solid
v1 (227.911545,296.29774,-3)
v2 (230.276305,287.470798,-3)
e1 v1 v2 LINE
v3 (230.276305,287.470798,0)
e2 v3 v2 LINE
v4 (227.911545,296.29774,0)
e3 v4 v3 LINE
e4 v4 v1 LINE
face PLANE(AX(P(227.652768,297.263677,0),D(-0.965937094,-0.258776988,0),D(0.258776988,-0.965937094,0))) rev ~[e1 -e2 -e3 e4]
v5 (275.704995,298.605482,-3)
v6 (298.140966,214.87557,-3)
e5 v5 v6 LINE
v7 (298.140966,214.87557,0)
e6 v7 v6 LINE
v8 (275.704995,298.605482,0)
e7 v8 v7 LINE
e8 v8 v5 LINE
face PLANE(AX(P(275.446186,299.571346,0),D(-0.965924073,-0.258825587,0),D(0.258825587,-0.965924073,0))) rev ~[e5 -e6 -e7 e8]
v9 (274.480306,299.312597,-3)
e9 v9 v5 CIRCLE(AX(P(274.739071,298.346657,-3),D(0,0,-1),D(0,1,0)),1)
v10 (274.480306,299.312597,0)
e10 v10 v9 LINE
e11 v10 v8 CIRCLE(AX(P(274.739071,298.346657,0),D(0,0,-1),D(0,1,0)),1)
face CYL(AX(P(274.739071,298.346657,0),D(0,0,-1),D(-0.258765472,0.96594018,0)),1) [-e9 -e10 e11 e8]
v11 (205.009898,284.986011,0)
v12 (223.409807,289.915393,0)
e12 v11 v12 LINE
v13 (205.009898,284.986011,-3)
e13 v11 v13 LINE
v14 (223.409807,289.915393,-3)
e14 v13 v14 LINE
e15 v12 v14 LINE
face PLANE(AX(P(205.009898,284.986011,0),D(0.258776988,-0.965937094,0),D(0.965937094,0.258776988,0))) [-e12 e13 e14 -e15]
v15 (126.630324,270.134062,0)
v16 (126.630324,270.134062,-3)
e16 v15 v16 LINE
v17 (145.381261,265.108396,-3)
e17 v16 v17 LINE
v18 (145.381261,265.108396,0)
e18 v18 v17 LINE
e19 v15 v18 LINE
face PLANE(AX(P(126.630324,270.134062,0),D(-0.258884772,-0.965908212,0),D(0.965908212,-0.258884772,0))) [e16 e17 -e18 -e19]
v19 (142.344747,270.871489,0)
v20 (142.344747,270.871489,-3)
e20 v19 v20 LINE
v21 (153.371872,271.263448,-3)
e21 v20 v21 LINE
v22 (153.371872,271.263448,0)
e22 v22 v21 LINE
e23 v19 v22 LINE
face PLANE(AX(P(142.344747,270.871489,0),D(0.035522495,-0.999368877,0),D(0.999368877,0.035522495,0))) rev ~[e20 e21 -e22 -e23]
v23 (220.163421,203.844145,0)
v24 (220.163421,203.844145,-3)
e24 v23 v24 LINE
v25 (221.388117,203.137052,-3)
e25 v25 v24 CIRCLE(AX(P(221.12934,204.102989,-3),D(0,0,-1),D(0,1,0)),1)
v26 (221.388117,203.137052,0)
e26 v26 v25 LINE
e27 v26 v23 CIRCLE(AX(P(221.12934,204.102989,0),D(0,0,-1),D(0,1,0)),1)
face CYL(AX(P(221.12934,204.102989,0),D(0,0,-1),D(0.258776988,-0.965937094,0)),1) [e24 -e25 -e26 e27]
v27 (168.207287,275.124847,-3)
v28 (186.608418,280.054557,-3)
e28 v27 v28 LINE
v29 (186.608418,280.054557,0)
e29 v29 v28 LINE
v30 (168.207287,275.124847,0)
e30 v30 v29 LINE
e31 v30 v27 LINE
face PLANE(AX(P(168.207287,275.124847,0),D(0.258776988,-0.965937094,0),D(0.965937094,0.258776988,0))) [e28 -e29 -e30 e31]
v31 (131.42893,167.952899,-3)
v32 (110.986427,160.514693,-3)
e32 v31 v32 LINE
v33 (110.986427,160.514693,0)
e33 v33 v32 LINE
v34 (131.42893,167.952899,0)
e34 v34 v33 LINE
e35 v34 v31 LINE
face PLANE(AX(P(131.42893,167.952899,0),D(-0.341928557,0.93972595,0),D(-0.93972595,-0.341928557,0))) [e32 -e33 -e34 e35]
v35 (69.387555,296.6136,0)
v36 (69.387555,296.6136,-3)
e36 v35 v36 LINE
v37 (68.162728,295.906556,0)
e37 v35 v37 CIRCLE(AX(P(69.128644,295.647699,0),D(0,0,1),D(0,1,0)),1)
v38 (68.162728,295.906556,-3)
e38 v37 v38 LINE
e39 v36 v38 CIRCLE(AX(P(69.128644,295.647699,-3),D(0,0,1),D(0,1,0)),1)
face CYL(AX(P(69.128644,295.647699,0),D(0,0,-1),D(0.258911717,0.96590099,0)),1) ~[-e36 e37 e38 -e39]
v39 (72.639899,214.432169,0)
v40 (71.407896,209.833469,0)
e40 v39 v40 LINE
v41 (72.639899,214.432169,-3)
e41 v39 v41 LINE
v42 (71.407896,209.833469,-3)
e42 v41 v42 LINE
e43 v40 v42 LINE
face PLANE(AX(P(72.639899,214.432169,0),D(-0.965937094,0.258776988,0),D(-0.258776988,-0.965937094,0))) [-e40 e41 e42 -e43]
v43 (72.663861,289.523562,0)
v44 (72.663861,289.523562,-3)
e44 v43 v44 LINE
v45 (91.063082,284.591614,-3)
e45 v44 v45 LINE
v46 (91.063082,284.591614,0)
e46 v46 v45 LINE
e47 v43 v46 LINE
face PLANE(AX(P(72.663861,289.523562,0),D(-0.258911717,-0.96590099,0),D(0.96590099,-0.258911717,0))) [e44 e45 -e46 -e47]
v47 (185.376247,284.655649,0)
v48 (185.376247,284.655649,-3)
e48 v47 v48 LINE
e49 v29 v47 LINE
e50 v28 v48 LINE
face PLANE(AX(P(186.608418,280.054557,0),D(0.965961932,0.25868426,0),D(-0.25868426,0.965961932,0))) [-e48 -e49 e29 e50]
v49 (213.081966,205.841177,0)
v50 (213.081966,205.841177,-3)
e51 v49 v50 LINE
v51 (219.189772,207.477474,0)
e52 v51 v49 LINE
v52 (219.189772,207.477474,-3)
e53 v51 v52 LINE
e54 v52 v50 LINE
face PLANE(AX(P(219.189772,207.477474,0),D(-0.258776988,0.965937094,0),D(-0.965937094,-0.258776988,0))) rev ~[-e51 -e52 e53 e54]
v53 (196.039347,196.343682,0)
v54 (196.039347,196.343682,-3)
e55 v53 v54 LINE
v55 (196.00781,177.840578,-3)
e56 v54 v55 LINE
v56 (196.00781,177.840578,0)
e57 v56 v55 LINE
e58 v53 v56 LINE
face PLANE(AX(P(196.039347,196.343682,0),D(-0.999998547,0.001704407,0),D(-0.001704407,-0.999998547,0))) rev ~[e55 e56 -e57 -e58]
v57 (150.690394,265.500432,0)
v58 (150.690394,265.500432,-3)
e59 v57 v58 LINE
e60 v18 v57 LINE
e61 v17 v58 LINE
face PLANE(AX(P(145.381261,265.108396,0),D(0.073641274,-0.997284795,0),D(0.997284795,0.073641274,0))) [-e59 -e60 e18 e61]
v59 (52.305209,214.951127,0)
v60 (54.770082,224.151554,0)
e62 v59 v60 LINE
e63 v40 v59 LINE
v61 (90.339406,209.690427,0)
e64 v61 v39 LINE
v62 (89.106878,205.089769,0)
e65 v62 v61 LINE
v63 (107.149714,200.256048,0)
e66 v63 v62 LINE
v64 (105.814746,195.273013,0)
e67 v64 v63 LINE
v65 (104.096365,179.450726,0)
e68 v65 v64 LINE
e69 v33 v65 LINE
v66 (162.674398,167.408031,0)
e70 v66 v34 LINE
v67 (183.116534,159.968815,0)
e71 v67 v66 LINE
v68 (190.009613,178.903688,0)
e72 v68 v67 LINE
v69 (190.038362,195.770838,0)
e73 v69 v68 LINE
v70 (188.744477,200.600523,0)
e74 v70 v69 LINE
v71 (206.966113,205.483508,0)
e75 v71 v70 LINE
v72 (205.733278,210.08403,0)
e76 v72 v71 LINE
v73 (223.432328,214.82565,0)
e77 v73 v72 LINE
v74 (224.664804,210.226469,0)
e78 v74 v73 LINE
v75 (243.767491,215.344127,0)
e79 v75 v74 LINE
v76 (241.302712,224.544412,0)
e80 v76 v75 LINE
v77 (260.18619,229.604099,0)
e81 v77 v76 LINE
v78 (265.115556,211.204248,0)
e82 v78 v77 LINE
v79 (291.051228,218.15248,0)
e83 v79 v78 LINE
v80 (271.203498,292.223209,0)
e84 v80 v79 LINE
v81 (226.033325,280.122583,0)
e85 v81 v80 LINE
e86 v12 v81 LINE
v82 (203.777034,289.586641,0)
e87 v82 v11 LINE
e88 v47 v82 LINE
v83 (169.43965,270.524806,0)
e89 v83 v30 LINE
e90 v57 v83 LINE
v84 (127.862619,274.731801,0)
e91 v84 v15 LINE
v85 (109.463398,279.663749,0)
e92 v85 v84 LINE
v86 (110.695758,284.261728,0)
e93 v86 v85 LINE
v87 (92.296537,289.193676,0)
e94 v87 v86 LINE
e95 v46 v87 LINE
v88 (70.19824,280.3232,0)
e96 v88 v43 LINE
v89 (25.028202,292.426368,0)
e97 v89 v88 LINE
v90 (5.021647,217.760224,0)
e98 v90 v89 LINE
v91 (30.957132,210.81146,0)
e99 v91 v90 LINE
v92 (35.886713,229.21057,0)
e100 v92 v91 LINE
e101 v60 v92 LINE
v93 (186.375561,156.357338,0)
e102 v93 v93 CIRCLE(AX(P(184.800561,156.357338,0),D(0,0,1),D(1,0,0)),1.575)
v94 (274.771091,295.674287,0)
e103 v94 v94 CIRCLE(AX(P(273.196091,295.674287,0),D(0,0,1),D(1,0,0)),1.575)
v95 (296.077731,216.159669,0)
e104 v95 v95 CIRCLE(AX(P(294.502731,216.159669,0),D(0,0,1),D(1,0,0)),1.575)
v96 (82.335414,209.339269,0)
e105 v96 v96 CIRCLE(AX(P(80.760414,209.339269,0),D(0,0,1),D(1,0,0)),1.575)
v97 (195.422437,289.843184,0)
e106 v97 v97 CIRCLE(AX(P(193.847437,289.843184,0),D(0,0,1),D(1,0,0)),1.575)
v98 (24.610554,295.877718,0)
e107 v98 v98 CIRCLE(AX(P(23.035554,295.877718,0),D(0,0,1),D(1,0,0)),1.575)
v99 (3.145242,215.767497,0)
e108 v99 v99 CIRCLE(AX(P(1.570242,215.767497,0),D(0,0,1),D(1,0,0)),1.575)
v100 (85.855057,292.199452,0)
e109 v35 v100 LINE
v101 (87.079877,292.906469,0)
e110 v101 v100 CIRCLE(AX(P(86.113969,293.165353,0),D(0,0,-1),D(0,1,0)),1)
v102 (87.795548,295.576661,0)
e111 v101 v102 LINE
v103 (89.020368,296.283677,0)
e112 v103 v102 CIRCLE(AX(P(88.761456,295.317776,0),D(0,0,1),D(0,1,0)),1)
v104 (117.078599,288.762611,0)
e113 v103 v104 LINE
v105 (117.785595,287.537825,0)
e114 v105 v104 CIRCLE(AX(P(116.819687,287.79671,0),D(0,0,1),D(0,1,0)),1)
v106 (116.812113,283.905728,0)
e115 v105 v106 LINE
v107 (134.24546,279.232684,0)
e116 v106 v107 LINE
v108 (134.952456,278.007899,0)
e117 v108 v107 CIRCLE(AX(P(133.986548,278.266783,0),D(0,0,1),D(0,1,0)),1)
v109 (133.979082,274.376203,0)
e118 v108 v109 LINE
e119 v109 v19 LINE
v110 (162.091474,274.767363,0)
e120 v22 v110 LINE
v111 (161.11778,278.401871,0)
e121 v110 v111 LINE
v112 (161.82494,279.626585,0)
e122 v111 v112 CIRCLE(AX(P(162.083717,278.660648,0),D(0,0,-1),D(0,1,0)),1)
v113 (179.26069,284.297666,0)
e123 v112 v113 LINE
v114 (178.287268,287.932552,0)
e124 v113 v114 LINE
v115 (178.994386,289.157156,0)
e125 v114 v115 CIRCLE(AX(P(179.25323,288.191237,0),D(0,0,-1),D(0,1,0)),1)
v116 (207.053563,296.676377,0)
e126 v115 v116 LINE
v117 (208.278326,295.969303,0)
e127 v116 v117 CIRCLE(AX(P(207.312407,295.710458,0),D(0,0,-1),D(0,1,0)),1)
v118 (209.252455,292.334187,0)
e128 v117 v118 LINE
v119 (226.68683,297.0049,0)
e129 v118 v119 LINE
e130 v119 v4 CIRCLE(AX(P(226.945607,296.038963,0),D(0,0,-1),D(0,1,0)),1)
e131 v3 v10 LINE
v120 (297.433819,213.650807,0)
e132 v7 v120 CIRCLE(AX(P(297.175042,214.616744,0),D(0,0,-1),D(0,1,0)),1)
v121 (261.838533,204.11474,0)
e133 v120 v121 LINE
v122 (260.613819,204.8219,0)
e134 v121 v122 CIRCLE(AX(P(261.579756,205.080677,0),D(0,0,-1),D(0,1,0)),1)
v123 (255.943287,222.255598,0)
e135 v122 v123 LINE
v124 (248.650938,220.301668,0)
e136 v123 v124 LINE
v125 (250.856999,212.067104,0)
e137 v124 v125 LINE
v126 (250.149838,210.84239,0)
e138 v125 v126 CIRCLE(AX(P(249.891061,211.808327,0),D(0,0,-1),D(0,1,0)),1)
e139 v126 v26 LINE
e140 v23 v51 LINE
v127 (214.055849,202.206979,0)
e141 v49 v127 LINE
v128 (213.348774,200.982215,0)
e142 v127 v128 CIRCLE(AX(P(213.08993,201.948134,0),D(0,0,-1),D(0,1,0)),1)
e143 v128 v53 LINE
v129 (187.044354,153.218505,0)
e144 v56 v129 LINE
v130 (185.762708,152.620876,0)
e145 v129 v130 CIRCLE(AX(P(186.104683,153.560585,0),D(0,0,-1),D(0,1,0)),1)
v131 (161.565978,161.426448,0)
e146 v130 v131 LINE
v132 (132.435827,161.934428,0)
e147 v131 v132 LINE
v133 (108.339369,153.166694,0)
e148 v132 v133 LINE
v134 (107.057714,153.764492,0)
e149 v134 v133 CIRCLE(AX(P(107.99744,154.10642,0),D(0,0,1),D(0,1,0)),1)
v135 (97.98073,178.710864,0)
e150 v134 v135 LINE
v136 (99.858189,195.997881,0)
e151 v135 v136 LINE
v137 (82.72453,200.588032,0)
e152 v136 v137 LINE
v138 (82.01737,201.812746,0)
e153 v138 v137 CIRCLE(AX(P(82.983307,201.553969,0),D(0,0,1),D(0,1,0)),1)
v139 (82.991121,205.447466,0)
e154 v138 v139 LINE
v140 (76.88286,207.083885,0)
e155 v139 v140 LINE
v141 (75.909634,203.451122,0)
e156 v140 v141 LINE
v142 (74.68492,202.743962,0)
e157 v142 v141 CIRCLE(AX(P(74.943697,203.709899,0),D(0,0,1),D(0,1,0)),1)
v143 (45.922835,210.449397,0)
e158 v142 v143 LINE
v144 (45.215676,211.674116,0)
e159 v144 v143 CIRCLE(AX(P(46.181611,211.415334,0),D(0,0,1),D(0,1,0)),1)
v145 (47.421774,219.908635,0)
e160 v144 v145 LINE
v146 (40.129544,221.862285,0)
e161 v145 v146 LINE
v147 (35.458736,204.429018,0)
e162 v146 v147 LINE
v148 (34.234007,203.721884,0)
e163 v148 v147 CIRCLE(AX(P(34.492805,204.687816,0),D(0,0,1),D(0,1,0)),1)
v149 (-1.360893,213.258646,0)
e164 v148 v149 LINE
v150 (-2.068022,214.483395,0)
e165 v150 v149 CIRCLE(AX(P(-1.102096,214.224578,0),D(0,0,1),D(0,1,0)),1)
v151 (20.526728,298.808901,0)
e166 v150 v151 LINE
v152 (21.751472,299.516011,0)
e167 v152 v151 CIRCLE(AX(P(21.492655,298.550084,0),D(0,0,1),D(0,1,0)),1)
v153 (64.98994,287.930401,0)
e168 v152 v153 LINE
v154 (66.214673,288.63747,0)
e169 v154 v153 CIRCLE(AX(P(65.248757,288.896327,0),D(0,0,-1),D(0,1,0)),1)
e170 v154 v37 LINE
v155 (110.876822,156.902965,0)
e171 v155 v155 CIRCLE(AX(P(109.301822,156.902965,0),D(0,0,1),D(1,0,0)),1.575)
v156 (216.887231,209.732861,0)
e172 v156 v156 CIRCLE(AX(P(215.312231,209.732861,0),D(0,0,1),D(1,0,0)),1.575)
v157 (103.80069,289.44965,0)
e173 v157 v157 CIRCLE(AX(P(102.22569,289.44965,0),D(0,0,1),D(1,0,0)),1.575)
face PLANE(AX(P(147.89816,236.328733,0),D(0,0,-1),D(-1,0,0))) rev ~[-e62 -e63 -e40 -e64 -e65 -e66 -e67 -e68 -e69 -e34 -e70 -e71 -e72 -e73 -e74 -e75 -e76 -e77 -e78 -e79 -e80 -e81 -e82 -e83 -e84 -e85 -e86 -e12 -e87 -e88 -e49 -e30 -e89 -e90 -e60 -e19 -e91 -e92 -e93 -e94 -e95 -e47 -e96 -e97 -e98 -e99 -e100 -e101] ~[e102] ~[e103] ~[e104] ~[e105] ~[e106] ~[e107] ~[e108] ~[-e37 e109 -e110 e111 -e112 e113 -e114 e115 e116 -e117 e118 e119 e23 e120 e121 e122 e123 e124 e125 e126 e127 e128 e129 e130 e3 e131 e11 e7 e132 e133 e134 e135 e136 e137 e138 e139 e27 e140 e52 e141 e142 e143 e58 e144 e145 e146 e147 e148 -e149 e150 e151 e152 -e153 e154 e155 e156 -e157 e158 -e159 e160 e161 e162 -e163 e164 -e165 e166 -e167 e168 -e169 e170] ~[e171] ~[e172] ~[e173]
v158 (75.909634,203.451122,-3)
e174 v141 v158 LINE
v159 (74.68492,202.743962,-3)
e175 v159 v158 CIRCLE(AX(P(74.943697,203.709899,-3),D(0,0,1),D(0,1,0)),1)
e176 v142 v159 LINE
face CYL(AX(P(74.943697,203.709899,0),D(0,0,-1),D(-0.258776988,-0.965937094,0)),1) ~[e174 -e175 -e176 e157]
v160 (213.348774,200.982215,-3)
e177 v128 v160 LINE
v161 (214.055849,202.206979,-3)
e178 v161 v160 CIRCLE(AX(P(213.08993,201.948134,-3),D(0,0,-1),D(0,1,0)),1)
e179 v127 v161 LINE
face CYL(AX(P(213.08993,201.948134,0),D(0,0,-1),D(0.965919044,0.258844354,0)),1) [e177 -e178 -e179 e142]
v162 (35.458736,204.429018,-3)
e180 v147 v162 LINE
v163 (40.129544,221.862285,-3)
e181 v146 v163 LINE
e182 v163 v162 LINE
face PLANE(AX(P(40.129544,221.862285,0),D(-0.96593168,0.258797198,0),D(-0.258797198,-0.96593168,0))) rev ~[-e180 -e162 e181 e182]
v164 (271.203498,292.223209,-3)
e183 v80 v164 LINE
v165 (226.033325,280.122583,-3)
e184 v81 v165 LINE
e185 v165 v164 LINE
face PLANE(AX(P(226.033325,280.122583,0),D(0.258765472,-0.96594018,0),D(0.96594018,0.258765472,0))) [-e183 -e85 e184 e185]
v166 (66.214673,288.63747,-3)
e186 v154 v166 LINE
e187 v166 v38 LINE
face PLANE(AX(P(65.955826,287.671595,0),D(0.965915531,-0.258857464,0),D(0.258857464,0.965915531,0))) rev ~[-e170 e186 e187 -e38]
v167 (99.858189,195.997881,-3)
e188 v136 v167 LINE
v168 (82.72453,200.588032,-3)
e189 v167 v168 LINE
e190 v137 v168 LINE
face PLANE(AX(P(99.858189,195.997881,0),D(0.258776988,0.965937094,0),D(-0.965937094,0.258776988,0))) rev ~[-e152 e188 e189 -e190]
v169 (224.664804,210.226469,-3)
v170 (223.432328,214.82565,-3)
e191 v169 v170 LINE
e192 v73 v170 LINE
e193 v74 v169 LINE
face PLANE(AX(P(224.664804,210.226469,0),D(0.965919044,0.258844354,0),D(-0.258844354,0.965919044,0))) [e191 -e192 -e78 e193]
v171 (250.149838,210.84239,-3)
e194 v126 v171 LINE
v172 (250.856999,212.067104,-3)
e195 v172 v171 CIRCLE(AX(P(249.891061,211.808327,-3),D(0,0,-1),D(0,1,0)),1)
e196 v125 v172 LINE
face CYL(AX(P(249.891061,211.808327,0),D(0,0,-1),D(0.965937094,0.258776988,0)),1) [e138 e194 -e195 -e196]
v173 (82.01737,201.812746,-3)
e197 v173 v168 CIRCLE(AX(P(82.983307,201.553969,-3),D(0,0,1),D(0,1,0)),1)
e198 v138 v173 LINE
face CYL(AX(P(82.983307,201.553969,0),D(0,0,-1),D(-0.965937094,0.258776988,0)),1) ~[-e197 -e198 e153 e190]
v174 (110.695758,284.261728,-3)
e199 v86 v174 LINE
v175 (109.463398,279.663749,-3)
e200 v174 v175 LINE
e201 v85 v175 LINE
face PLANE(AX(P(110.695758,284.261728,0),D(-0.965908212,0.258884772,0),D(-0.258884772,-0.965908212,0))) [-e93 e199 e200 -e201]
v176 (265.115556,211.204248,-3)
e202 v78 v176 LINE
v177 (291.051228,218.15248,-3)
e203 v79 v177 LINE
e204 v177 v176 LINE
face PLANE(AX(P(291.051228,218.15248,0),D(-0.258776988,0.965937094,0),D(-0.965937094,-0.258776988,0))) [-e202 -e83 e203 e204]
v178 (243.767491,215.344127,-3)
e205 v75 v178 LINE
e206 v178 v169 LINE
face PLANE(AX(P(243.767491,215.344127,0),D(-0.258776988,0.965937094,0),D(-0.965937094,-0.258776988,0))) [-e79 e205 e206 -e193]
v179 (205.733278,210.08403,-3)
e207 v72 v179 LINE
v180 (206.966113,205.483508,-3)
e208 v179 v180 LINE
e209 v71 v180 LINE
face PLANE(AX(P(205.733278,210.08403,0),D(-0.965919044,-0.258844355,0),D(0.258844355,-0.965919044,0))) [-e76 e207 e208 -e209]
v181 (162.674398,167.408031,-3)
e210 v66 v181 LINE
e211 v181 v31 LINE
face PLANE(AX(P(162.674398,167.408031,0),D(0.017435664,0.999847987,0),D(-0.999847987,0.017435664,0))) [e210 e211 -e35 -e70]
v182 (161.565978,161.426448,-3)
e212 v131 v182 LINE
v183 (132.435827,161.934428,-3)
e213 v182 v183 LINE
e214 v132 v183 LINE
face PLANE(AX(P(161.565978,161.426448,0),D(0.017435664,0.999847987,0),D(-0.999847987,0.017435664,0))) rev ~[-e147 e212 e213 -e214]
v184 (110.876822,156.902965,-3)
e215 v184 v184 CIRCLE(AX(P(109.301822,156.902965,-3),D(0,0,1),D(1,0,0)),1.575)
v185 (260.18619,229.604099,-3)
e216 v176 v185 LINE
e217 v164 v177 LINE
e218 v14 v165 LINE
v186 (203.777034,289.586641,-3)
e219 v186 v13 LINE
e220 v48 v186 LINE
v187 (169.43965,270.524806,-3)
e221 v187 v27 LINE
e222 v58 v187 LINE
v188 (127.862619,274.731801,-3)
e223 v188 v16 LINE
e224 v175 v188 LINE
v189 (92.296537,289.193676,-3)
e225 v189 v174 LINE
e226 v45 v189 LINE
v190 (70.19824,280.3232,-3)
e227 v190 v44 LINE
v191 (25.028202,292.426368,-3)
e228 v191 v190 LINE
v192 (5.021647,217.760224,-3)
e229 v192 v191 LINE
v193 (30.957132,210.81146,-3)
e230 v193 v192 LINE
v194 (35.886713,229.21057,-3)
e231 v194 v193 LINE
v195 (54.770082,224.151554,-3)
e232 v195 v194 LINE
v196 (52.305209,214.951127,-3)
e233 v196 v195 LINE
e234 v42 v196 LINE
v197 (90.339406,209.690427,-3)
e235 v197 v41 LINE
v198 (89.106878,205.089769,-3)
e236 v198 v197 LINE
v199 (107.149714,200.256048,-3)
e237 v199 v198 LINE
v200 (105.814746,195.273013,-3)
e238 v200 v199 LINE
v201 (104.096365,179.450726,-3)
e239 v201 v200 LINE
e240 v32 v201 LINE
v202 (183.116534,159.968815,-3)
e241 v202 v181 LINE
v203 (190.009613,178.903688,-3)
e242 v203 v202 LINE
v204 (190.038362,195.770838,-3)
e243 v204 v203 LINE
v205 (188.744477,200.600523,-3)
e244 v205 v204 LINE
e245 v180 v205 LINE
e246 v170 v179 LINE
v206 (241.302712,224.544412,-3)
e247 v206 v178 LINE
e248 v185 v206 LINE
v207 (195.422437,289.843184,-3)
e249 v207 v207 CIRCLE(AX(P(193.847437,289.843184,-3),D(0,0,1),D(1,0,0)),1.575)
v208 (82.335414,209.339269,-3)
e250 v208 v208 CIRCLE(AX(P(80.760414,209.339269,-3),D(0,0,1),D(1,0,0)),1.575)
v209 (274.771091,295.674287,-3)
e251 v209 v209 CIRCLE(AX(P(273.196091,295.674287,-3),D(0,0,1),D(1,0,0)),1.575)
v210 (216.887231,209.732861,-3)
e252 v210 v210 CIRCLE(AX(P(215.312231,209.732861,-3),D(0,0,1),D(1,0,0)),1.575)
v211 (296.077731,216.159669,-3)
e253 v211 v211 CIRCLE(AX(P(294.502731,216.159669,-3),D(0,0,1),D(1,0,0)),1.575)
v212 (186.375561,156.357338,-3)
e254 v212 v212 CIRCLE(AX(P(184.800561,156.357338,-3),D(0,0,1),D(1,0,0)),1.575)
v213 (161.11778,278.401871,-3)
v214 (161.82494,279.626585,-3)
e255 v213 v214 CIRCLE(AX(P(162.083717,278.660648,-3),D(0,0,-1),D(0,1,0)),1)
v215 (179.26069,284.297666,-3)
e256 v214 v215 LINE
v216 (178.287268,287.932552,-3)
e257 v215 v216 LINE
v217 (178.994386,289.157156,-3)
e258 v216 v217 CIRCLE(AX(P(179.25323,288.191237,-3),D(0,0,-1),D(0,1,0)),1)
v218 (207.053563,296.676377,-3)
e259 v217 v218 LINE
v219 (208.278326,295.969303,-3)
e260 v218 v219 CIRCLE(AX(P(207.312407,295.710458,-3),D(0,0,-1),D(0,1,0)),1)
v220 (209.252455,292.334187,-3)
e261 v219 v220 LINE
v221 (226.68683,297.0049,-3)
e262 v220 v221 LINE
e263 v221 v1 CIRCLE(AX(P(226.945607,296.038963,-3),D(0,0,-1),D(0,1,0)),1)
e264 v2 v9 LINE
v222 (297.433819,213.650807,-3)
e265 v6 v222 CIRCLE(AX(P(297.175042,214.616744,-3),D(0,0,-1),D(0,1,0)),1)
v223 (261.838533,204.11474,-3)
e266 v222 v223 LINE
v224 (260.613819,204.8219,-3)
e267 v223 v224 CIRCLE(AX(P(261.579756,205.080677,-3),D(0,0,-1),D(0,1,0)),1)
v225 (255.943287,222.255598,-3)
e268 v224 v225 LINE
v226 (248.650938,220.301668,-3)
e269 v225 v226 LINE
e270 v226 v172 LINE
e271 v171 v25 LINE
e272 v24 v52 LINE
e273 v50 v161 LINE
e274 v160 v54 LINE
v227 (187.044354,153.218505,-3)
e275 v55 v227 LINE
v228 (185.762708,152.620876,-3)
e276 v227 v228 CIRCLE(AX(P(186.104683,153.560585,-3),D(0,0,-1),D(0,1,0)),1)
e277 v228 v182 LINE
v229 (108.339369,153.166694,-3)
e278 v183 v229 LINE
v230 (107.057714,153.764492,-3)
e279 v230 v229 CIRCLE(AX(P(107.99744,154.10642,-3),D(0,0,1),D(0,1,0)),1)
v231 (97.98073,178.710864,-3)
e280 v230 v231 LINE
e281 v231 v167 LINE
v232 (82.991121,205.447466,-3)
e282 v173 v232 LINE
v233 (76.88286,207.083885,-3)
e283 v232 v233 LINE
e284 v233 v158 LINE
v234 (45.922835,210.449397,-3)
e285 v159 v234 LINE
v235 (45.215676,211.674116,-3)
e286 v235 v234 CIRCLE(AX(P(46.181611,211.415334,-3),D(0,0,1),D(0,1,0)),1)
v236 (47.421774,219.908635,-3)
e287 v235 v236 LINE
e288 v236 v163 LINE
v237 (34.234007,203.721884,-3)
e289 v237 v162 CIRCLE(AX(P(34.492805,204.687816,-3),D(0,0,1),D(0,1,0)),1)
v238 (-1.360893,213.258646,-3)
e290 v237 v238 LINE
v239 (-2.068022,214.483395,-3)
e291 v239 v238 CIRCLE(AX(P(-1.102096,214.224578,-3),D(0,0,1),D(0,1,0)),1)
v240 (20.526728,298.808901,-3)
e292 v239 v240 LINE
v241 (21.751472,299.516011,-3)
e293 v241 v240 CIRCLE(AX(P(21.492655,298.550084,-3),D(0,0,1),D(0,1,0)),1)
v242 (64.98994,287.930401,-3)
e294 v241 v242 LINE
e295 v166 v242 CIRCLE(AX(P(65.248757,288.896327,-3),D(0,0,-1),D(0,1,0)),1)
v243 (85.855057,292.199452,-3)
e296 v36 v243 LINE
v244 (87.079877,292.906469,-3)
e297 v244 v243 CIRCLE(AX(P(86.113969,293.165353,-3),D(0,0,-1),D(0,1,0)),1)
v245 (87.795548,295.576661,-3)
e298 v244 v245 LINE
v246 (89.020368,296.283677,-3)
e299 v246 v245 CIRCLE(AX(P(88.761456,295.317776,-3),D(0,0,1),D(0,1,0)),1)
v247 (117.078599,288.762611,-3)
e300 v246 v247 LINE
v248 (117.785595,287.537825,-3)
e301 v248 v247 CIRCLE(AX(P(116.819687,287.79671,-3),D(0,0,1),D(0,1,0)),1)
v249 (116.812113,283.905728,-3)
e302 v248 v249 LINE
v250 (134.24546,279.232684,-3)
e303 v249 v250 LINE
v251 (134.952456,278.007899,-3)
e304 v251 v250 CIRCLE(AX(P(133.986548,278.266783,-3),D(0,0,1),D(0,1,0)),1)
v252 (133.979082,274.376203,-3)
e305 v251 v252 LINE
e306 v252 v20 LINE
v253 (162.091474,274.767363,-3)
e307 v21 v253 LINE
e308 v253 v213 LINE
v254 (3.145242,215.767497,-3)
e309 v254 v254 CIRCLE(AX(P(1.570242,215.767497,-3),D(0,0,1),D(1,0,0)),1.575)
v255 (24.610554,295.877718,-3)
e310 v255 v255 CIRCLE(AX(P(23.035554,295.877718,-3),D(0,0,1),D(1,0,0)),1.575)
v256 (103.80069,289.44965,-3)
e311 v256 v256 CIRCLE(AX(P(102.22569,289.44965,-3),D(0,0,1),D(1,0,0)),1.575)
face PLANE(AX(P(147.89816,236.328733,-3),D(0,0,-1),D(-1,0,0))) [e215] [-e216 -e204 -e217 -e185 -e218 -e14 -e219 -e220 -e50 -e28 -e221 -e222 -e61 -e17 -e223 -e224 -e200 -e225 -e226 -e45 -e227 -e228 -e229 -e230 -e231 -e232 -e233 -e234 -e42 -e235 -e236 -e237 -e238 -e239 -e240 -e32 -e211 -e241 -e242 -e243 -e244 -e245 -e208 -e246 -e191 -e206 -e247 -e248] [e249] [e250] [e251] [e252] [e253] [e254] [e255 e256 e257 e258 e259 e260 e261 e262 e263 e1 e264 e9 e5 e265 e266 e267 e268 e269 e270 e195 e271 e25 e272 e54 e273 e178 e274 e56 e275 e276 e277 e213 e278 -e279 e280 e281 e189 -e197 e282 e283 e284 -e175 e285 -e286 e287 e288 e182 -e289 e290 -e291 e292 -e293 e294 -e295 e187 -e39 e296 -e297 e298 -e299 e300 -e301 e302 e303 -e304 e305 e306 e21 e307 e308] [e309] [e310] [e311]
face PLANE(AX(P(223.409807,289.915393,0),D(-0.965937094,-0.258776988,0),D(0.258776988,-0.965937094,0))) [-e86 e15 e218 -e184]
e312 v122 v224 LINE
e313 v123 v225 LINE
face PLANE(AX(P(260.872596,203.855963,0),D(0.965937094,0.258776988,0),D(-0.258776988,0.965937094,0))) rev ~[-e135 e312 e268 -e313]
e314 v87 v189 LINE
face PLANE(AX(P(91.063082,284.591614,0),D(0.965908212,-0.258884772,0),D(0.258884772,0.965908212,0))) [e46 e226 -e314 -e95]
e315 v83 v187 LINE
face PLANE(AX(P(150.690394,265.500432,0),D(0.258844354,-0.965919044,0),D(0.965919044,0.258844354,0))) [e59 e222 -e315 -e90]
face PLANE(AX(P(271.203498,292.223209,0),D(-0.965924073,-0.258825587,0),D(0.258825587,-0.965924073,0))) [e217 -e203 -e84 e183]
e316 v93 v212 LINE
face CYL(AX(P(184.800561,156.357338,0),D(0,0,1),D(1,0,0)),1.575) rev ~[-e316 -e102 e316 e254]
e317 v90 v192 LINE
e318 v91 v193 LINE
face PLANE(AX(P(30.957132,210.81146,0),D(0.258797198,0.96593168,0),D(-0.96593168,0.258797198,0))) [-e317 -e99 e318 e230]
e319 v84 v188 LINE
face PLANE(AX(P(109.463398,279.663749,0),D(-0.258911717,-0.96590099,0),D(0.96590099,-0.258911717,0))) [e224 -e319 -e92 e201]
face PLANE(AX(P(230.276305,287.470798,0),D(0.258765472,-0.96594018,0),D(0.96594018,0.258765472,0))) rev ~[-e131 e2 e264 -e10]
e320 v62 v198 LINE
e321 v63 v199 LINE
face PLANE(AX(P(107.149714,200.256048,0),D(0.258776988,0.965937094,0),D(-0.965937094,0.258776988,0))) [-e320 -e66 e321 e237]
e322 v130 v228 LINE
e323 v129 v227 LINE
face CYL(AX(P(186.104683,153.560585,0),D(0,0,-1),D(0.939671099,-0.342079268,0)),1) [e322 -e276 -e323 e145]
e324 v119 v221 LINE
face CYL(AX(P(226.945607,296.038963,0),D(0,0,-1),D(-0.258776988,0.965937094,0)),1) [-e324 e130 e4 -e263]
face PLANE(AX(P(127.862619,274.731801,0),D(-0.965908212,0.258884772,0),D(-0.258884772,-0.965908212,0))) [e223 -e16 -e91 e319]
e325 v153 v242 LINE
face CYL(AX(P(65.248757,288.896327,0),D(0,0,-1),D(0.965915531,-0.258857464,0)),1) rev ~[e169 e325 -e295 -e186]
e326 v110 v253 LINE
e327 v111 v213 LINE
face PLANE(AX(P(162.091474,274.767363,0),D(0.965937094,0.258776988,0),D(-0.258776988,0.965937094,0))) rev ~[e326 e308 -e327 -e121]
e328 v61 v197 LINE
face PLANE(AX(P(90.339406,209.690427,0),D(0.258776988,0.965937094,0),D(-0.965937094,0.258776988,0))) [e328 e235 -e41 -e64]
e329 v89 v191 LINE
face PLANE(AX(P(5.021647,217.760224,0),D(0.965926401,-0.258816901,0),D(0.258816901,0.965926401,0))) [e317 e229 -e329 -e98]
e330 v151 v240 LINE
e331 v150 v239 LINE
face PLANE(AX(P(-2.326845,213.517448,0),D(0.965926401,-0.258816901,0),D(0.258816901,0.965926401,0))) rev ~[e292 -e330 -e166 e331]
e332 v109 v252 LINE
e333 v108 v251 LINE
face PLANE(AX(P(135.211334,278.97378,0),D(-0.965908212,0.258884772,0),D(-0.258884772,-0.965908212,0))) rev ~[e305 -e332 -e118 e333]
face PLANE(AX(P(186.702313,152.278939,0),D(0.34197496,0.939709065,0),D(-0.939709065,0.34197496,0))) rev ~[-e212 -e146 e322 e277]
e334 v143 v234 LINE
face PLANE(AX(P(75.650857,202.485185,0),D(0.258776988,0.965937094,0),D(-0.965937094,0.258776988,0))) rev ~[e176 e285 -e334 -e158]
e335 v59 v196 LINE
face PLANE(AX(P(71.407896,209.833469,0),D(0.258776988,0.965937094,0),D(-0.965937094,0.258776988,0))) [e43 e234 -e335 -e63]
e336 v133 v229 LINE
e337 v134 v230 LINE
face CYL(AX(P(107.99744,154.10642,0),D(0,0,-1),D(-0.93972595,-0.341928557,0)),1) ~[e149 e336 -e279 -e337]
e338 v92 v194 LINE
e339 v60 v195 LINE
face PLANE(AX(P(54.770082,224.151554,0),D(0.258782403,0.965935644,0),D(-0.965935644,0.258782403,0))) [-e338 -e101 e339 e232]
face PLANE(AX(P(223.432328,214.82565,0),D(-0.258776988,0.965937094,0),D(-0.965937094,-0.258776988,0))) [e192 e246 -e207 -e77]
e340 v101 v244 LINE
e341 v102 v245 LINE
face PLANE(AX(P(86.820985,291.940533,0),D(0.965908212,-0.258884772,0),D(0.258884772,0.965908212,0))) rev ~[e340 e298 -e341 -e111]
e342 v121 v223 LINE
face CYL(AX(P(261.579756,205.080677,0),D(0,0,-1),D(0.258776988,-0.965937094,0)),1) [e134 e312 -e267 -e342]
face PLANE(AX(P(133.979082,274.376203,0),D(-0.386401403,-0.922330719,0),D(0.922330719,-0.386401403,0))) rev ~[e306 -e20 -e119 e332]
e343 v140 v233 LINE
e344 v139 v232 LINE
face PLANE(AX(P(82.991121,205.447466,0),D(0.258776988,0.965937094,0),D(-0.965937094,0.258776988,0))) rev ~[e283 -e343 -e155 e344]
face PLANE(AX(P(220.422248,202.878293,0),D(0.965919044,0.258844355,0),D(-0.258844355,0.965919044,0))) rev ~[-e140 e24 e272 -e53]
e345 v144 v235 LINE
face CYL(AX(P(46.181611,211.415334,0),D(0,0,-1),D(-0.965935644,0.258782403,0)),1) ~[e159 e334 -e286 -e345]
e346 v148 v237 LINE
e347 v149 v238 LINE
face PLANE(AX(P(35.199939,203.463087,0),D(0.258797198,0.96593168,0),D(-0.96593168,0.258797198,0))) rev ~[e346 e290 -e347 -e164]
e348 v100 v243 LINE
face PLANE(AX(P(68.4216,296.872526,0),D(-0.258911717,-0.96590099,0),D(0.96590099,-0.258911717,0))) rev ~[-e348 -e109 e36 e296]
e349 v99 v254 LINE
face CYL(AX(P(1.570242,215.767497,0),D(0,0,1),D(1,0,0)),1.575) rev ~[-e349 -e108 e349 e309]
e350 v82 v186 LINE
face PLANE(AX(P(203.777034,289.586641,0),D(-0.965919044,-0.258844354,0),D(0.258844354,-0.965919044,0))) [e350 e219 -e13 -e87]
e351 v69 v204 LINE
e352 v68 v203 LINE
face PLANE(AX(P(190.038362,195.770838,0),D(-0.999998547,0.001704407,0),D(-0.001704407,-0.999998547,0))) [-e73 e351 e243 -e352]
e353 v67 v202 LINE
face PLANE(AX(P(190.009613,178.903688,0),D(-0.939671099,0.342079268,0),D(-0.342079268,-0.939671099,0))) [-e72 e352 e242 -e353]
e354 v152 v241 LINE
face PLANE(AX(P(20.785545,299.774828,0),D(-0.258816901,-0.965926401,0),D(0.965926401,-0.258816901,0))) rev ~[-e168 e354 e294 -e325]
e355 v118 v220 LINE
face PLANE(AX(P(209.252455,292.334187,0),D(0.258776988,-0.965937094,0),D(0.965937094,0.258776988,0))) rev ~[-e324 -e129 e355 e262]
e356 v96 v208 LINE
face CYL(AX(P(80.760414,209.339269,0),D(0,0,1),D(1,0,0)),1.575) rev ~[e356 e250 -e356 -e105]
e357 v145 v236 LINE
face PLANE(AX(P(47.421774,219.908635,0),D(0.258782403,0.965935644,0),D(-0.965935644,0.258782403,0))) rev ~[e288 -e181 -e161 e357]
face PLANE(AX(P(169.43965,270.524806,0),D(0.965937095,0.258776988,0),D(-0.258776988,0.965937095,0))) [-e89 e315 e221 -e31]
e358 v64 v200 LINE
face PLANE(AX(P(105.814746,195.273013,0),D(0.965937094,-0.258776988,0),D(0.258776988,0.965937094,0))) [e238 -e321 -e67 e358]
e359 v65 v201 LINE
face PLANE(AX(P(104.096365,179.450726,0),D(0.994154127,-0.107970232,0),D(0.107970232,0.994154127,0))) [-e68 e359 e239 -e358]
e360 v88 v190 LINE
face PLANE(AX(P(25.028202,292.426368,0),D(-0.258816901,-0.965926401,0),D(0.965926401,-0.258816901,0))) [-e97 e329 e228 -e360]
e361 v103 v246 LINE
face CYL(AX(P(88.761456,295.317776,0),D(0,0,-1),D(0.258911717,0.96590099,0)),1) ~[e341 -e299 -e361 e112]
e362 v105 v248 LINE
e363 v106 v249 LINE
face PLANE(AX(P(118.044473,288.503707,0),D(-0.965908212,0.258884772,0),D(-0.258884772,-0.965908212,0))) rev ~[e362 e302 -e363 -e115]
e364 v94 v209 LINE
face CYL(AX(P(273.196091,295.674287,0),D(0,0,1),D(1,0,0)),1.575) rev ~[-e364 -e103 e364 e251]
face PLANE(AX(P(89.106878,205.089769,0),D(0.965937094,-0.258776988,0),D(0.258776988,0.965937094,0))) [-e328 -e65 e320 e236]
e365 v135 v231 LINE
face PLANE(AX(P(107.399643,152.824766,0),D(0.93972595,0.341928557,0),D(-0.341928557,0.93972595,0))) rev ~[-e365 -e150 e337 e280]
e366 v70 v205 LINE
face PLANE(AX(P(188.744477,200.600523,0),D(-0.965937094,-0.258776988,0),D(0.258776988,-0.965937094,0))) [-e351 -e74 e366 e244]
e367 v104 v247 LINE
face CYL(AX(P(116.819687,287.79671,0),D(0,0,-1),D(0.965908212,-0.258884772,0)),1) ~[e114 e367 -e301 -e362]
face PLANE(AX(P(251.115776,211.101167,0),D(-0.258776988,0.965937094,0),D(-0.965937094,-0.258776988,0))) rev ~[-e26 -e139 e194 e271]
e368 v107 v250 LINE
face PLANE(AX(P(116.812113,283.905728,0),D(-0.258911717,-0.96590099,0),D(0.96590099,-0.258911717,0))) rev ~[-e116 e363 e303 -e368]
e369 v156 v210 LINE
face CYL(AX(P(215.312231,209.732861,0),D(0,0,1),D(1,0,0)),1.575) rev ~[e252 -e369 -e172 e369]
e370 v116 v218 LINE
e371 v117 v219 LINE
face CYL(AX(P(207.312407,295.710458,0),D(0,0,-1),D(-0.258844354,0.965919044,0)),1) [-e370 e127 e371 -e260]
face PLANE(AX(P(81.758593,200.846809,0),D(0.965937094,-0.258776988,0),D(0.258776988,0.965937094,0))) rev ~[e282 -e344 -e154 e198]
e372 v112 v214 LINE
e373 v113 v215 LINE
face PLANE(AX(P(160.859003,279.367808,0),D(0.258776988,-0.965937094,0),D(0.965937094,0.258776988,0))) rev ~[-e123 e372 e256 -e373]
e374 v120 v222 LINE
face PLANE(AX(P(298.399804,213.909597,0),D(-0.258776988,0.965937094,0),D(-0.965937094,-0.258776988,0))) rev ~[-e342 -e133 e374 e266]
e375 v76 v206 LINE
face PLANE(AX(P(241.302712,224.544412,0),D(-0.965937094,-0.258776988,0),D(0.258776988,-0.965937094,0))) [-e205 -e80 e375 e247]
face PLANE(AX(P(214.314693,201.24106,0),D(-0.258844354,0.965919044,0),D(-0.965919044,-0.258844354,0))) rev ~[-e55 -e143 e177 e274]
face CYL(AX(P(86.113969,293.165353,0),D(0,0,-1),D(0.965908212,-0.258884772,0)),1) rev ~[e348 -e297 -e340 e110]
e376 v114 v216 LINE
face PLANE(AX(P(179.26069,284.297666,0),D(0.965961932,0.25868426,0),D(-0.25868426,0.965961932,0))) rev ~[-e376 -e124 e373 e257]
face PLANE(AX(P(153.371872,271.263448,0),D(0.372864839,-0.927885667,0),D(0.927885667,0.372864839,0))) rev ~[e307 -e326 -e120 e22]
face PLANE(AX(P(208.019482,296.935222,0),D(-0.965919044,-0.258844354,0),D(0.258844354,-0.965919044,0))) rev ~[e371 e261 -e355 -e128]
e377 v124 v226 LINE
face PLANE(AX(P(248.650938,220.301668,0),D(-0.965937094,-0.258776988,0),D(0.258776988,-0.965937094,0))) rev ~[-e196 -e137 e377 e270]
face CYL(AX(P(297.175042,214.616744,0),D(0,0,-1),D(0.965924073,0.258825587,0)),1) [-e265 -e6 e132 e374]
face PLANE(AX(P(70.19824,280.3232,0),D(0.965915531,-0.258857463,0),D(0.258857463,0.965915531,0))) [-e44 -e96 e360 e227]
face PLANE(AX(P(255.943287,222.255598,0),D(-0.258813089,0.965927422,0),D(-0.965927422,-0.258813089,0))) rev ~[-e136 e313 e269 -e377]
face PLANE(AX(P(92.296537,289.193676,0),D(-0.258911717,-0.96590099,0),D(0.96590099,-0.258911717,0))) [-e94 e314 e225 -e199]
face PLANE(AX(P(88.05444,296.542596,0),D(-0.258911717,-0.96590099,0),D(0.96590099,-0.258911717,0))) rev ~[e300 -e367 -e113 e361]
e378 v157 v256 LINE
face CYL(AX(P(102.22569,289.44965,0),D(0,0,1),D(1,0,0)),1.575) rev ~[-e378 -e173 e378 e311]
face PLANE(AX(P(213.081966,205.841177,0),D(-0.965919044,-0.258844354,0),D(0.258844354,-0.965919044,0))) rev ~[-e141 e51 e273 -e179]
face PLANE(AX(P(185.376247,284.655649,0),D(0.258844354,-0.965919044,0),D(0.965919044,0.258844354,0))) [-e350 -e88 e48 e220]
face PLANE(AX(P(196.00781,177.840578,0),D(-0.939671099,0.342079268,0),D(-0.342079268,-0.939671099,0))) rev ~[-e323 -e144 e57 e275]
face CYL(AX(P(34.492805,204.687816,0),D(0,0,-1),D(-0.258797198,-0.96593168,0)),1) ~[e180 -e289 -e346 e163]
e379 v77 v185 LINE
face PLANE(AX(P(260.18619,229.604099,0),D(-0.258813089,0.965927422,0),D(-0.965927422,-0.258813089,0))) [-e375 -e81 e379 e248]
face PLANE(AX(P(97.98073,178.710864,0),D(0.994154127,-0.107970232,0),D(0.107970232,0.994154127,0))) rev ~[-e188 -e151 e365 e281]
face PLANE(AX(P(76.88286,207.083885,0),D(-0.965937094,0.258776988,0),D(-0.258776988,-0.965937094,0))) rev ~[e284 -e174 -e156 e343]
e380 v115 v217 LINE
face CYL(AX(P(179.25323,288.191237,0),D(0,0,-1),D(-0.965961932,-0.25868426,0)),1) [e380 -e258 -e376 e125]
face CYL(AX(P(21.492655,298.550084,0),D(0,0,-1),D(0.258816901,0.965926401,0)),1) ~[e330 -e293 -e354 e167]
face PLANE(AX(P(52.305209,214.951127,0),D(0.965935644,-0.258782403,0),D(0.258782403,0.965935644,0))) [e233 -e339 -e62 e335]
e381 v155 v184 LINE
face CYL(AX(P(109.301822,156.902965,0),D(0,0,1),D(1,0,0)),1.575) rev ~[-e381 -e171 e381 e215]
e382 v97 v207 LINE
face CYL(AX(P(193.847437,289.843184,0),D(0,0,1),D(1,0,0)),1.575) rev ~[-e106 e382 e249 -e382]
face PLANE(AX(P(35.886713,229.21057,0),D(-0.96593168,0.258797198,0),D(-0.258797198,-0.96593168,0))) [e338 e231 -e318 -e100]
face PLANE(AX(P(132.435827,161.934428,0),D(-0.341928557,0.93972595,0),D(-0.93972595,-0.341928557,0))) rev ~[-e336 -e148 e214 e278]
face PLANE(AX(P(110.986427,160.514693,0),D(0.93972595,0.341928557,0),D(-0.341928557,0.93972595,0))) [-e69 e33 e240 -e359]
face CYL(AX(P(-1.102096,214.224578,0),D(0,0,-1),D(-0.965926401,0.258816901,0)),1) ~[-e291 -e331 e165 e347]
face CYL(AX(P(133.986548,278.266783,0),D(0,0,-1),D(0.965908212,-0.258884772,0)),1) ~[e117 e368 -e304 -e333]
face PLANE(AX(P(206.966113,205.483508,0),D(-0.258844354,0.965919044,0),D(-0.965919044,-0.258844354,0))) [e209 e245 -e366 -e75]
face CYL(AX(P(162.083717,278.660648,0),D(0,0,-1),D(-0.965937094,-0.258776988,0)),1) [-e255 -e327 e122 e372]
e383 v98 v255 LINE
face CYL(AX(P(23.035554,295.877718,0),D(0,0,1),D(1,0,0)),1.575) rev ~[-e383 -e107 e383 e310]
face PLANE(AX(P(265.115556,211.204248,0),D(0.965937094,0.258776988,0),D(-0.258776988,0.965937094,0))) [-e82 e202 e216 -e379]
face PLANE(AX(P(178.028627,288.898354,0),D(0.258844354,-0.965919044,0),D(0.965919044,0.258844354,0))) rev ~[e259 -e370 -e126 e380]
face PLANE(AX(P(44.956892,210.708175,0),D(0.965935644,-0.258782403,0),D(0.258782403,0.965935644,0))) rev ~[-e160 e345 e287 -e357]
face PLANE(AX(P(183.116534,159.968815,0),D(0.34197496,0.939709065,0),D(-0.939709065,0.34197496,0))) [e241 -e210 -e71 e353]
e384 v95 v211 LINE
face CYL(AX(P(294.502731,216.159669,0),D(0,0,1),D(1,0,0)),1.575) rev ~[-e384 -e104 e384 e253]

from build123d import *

# Parameters (mm, degrees)
MODEL_R             = 1.575
BOSS_EXTRUDE1_DEPTH = 3
FILLET1_R           = 1


with BuildPart() as part:
    # Model → Boss-Extrude1 (new body)
    with BuildSketch(Plane.XY):
        Polygon((142.344747242, 270.871489374), (153.37187249, 271.263447748), (162.091473536, 274.767362889), (160.85900272, 279.367807803), (179.260689602, 284.297666211), (178.028627015, 288.898354165), (208.019481767, 296.93522173), (209.252454514, 292.334187025), (227.65276755, 297.263677376), (230.276304619, 287.470798216), (275.446186014, 299.571346393), (298.39980436, 213.909597233), (260.87259576, 203.855963236), (255.943287021, 222.255598366), (248.650938057, 220.301667543), (251.115775513, 211.101166572), (220.422247557, 202.878292884), (219.189771603, 207.477473721), (213.081966369, 205.841177268), (214.314693354, 201.241059665), (196.039346948, 196.343682115), (196.007810089, 177.840578221), (186.702312667, 152.27893851), (161.565977706, 161.426447529), (132.435827139, 161.934428279), (107.399642776, 152.824765622), (97.980730454, 178.710864183), (99.858189105, 195.997881416), (81.758593313, 200.846808858), (82.991121062, 205.447466285), (76.882860045, 207.083884844), (75.650856625, 202.485184579), (44.956891994, 210.708175253), (47.421773629, 219.90863481), (40.129543563, 221.862285479), (35.199939127, 203.463086712), (-2.32684459, 213.517448416), (20.785545351, 299.774827661), (65.955825932, 287.671594898), (68.42160019, 296.872525865), (86.820985153, 291.940533454), (88.054439652, 296.542595671), (118.044472643, 288.503706576), (116.812112756, 283.905728394), (135.211333861, 278.973779905), (133.979081507, 274.376202933), align=None)
        with Locations((23.035554, 295.877718337)):
            Circle(MODEL_R, mode=Mode.SUBTRACT)
        with Locations((109.301822433, 156.902965293)):
            Circle(MODEL_R, mode=Mode.SUBTRACT)
        with Locations((184.800560745, 156.35733766)):
            Circle(MODEL_R, mode=Mode.SUBTRACT)
        with Locations((193.847437398, 289.84318413)):
            Circle(MODEL_R, mode=Mode.SUBTRACT)
        with Locations((102.225689846, 289.449650012)):
            Circle(MODEL_R, mode=Mode.SUBTRACT)
        with Locations((273.19609114, 295.674286852)):
            Circle(MODEL_R, mode=Mode.SUBTRACT)
        with Locations((1.570241786, 215.767496811)):
            Circle(MODEL_R, mode=Mode.SUBTRACT)
        with Locations((294.502731407, 216.159668876)):
            Circle(MODEL_R, mode=Mode.SUBTRACT)
        with Locations((80.760413887, 209.339268578)):
            Circle(MODEL_R, mode=Mode.SUBTRACT)
        with Locations((215.312231294, 209.732861073)):
            Circle(MODEL_R, mode=Mode.SUBTRACT)
        Polygon((271.203498451, 292.223209107), (291.05122826, 218.15247975), (265.115556398, 211.204247731), (260.186189629, 229.604099473), (241.30271159, 224.544411578), (243.767491017, 215.34412721), (224.664804007, 210.226469096), (223.432328054, 214.825649934), (205.733277658, 210.084029615), (206.966112962, 205.483507804), (188.744476932, 200.600523414), (190.038361872, 195.770837942), (190.009613349, 178.903688177), (183.116533861, 159.968814913), (162.674398087, 167.40803076), (131.428930231, 167.95289908), (110.986427135, 160.514692668), (104.096364698, 179.45072575), (105.814746135, 195.273012707), (107.149713912, 200.256048118), (89.106877808, 205.089769496), (90.339405557, 209.690426923), (72.639899407, 214.432169339), (71.407895987, 209.833469074), (52.305208977, 214.951127188), (54.770081908, 224.151554257), (35.886712889, 229.210569975), (30.957132238, 210.811459981), (5.0216469, 217.76022363), (25.028202346, 292.426367848), (70.198239559, 280.323200295), (72.663861356, 289.523562363), (91.063082461, 284.591613875), (92.29653696, 289.193676092), (110.695758065, 284.261727603), (109.463398178, 279.663749421), (127.862619282, 274.731800932), (126.630323598, 270.134062294), (145.381260936, 265.108396206), (150.690394167, 265.500431998), (169.439649748, 270.524806438), (168.207287216, 275.124847165), (186.60841776, 280.054556529), (185.376246939, 284.655648642), (203.777033628, 289.586641337), (205.009898064, 284.986010813), (223.409806911, 289.915392881), (226.033325469, 280.122582817), align=None, mode=Mode.SUBTRACT)
    extrude(amount=-BOSS_EXTRUDE1_DEPTH)

    # Fillet1
    fillet1_edges = [part.edges().sort_by_distance(p)[0] for p in [
        (-2.32684459, 213.517448416, -1.5),
        (20.785545351, 299.774827661, -1.5),
        (65.955825932, 287.671594898, -1.5),
        (68.42160019, 296.872525865, -1.5),
        (86.820985153, 291.940533454, -1.5),
        (88.054439652, 296.542595671, -1.5),
        (118.044472643, 288.503706576, -1.5),
        (135.211333861, 278.973779905, -1.5),
        (160.85900272, 279.367807803, -1.5),
        (178.028627015, 288.898354165, -1.5),
        (208.019481767, 296.93522173, -1.5),
        (227.65276755, 297.263677376, -1.5),
        (275.446186014, 299.571346393, -1.5),
        (298.39980436, 213.909597233, -1.5),
        (260.87259576, 203.855963236, -1.5),
        (251.115775513, 211.101166572, -1.5),
        (220.422247557, 202.878292884, -1.5),
        (214.314693354, 201.241059665, -1.5),
        (186.702312667, 152.27893851, -1.5),
        (107.399642776, 152.824765622, -1.5),
        (81.758593313, 200.846808858, -1.5),
        (75.650856625, 202.485184579, -1.5),
        (44.956891994, 210.708175253, -1.5),
        (35.199939127, 203.463086712, -1.5),
    ]]
    fillet(fillet1_edges, radius=FILLET1_R)


solid = part.part
